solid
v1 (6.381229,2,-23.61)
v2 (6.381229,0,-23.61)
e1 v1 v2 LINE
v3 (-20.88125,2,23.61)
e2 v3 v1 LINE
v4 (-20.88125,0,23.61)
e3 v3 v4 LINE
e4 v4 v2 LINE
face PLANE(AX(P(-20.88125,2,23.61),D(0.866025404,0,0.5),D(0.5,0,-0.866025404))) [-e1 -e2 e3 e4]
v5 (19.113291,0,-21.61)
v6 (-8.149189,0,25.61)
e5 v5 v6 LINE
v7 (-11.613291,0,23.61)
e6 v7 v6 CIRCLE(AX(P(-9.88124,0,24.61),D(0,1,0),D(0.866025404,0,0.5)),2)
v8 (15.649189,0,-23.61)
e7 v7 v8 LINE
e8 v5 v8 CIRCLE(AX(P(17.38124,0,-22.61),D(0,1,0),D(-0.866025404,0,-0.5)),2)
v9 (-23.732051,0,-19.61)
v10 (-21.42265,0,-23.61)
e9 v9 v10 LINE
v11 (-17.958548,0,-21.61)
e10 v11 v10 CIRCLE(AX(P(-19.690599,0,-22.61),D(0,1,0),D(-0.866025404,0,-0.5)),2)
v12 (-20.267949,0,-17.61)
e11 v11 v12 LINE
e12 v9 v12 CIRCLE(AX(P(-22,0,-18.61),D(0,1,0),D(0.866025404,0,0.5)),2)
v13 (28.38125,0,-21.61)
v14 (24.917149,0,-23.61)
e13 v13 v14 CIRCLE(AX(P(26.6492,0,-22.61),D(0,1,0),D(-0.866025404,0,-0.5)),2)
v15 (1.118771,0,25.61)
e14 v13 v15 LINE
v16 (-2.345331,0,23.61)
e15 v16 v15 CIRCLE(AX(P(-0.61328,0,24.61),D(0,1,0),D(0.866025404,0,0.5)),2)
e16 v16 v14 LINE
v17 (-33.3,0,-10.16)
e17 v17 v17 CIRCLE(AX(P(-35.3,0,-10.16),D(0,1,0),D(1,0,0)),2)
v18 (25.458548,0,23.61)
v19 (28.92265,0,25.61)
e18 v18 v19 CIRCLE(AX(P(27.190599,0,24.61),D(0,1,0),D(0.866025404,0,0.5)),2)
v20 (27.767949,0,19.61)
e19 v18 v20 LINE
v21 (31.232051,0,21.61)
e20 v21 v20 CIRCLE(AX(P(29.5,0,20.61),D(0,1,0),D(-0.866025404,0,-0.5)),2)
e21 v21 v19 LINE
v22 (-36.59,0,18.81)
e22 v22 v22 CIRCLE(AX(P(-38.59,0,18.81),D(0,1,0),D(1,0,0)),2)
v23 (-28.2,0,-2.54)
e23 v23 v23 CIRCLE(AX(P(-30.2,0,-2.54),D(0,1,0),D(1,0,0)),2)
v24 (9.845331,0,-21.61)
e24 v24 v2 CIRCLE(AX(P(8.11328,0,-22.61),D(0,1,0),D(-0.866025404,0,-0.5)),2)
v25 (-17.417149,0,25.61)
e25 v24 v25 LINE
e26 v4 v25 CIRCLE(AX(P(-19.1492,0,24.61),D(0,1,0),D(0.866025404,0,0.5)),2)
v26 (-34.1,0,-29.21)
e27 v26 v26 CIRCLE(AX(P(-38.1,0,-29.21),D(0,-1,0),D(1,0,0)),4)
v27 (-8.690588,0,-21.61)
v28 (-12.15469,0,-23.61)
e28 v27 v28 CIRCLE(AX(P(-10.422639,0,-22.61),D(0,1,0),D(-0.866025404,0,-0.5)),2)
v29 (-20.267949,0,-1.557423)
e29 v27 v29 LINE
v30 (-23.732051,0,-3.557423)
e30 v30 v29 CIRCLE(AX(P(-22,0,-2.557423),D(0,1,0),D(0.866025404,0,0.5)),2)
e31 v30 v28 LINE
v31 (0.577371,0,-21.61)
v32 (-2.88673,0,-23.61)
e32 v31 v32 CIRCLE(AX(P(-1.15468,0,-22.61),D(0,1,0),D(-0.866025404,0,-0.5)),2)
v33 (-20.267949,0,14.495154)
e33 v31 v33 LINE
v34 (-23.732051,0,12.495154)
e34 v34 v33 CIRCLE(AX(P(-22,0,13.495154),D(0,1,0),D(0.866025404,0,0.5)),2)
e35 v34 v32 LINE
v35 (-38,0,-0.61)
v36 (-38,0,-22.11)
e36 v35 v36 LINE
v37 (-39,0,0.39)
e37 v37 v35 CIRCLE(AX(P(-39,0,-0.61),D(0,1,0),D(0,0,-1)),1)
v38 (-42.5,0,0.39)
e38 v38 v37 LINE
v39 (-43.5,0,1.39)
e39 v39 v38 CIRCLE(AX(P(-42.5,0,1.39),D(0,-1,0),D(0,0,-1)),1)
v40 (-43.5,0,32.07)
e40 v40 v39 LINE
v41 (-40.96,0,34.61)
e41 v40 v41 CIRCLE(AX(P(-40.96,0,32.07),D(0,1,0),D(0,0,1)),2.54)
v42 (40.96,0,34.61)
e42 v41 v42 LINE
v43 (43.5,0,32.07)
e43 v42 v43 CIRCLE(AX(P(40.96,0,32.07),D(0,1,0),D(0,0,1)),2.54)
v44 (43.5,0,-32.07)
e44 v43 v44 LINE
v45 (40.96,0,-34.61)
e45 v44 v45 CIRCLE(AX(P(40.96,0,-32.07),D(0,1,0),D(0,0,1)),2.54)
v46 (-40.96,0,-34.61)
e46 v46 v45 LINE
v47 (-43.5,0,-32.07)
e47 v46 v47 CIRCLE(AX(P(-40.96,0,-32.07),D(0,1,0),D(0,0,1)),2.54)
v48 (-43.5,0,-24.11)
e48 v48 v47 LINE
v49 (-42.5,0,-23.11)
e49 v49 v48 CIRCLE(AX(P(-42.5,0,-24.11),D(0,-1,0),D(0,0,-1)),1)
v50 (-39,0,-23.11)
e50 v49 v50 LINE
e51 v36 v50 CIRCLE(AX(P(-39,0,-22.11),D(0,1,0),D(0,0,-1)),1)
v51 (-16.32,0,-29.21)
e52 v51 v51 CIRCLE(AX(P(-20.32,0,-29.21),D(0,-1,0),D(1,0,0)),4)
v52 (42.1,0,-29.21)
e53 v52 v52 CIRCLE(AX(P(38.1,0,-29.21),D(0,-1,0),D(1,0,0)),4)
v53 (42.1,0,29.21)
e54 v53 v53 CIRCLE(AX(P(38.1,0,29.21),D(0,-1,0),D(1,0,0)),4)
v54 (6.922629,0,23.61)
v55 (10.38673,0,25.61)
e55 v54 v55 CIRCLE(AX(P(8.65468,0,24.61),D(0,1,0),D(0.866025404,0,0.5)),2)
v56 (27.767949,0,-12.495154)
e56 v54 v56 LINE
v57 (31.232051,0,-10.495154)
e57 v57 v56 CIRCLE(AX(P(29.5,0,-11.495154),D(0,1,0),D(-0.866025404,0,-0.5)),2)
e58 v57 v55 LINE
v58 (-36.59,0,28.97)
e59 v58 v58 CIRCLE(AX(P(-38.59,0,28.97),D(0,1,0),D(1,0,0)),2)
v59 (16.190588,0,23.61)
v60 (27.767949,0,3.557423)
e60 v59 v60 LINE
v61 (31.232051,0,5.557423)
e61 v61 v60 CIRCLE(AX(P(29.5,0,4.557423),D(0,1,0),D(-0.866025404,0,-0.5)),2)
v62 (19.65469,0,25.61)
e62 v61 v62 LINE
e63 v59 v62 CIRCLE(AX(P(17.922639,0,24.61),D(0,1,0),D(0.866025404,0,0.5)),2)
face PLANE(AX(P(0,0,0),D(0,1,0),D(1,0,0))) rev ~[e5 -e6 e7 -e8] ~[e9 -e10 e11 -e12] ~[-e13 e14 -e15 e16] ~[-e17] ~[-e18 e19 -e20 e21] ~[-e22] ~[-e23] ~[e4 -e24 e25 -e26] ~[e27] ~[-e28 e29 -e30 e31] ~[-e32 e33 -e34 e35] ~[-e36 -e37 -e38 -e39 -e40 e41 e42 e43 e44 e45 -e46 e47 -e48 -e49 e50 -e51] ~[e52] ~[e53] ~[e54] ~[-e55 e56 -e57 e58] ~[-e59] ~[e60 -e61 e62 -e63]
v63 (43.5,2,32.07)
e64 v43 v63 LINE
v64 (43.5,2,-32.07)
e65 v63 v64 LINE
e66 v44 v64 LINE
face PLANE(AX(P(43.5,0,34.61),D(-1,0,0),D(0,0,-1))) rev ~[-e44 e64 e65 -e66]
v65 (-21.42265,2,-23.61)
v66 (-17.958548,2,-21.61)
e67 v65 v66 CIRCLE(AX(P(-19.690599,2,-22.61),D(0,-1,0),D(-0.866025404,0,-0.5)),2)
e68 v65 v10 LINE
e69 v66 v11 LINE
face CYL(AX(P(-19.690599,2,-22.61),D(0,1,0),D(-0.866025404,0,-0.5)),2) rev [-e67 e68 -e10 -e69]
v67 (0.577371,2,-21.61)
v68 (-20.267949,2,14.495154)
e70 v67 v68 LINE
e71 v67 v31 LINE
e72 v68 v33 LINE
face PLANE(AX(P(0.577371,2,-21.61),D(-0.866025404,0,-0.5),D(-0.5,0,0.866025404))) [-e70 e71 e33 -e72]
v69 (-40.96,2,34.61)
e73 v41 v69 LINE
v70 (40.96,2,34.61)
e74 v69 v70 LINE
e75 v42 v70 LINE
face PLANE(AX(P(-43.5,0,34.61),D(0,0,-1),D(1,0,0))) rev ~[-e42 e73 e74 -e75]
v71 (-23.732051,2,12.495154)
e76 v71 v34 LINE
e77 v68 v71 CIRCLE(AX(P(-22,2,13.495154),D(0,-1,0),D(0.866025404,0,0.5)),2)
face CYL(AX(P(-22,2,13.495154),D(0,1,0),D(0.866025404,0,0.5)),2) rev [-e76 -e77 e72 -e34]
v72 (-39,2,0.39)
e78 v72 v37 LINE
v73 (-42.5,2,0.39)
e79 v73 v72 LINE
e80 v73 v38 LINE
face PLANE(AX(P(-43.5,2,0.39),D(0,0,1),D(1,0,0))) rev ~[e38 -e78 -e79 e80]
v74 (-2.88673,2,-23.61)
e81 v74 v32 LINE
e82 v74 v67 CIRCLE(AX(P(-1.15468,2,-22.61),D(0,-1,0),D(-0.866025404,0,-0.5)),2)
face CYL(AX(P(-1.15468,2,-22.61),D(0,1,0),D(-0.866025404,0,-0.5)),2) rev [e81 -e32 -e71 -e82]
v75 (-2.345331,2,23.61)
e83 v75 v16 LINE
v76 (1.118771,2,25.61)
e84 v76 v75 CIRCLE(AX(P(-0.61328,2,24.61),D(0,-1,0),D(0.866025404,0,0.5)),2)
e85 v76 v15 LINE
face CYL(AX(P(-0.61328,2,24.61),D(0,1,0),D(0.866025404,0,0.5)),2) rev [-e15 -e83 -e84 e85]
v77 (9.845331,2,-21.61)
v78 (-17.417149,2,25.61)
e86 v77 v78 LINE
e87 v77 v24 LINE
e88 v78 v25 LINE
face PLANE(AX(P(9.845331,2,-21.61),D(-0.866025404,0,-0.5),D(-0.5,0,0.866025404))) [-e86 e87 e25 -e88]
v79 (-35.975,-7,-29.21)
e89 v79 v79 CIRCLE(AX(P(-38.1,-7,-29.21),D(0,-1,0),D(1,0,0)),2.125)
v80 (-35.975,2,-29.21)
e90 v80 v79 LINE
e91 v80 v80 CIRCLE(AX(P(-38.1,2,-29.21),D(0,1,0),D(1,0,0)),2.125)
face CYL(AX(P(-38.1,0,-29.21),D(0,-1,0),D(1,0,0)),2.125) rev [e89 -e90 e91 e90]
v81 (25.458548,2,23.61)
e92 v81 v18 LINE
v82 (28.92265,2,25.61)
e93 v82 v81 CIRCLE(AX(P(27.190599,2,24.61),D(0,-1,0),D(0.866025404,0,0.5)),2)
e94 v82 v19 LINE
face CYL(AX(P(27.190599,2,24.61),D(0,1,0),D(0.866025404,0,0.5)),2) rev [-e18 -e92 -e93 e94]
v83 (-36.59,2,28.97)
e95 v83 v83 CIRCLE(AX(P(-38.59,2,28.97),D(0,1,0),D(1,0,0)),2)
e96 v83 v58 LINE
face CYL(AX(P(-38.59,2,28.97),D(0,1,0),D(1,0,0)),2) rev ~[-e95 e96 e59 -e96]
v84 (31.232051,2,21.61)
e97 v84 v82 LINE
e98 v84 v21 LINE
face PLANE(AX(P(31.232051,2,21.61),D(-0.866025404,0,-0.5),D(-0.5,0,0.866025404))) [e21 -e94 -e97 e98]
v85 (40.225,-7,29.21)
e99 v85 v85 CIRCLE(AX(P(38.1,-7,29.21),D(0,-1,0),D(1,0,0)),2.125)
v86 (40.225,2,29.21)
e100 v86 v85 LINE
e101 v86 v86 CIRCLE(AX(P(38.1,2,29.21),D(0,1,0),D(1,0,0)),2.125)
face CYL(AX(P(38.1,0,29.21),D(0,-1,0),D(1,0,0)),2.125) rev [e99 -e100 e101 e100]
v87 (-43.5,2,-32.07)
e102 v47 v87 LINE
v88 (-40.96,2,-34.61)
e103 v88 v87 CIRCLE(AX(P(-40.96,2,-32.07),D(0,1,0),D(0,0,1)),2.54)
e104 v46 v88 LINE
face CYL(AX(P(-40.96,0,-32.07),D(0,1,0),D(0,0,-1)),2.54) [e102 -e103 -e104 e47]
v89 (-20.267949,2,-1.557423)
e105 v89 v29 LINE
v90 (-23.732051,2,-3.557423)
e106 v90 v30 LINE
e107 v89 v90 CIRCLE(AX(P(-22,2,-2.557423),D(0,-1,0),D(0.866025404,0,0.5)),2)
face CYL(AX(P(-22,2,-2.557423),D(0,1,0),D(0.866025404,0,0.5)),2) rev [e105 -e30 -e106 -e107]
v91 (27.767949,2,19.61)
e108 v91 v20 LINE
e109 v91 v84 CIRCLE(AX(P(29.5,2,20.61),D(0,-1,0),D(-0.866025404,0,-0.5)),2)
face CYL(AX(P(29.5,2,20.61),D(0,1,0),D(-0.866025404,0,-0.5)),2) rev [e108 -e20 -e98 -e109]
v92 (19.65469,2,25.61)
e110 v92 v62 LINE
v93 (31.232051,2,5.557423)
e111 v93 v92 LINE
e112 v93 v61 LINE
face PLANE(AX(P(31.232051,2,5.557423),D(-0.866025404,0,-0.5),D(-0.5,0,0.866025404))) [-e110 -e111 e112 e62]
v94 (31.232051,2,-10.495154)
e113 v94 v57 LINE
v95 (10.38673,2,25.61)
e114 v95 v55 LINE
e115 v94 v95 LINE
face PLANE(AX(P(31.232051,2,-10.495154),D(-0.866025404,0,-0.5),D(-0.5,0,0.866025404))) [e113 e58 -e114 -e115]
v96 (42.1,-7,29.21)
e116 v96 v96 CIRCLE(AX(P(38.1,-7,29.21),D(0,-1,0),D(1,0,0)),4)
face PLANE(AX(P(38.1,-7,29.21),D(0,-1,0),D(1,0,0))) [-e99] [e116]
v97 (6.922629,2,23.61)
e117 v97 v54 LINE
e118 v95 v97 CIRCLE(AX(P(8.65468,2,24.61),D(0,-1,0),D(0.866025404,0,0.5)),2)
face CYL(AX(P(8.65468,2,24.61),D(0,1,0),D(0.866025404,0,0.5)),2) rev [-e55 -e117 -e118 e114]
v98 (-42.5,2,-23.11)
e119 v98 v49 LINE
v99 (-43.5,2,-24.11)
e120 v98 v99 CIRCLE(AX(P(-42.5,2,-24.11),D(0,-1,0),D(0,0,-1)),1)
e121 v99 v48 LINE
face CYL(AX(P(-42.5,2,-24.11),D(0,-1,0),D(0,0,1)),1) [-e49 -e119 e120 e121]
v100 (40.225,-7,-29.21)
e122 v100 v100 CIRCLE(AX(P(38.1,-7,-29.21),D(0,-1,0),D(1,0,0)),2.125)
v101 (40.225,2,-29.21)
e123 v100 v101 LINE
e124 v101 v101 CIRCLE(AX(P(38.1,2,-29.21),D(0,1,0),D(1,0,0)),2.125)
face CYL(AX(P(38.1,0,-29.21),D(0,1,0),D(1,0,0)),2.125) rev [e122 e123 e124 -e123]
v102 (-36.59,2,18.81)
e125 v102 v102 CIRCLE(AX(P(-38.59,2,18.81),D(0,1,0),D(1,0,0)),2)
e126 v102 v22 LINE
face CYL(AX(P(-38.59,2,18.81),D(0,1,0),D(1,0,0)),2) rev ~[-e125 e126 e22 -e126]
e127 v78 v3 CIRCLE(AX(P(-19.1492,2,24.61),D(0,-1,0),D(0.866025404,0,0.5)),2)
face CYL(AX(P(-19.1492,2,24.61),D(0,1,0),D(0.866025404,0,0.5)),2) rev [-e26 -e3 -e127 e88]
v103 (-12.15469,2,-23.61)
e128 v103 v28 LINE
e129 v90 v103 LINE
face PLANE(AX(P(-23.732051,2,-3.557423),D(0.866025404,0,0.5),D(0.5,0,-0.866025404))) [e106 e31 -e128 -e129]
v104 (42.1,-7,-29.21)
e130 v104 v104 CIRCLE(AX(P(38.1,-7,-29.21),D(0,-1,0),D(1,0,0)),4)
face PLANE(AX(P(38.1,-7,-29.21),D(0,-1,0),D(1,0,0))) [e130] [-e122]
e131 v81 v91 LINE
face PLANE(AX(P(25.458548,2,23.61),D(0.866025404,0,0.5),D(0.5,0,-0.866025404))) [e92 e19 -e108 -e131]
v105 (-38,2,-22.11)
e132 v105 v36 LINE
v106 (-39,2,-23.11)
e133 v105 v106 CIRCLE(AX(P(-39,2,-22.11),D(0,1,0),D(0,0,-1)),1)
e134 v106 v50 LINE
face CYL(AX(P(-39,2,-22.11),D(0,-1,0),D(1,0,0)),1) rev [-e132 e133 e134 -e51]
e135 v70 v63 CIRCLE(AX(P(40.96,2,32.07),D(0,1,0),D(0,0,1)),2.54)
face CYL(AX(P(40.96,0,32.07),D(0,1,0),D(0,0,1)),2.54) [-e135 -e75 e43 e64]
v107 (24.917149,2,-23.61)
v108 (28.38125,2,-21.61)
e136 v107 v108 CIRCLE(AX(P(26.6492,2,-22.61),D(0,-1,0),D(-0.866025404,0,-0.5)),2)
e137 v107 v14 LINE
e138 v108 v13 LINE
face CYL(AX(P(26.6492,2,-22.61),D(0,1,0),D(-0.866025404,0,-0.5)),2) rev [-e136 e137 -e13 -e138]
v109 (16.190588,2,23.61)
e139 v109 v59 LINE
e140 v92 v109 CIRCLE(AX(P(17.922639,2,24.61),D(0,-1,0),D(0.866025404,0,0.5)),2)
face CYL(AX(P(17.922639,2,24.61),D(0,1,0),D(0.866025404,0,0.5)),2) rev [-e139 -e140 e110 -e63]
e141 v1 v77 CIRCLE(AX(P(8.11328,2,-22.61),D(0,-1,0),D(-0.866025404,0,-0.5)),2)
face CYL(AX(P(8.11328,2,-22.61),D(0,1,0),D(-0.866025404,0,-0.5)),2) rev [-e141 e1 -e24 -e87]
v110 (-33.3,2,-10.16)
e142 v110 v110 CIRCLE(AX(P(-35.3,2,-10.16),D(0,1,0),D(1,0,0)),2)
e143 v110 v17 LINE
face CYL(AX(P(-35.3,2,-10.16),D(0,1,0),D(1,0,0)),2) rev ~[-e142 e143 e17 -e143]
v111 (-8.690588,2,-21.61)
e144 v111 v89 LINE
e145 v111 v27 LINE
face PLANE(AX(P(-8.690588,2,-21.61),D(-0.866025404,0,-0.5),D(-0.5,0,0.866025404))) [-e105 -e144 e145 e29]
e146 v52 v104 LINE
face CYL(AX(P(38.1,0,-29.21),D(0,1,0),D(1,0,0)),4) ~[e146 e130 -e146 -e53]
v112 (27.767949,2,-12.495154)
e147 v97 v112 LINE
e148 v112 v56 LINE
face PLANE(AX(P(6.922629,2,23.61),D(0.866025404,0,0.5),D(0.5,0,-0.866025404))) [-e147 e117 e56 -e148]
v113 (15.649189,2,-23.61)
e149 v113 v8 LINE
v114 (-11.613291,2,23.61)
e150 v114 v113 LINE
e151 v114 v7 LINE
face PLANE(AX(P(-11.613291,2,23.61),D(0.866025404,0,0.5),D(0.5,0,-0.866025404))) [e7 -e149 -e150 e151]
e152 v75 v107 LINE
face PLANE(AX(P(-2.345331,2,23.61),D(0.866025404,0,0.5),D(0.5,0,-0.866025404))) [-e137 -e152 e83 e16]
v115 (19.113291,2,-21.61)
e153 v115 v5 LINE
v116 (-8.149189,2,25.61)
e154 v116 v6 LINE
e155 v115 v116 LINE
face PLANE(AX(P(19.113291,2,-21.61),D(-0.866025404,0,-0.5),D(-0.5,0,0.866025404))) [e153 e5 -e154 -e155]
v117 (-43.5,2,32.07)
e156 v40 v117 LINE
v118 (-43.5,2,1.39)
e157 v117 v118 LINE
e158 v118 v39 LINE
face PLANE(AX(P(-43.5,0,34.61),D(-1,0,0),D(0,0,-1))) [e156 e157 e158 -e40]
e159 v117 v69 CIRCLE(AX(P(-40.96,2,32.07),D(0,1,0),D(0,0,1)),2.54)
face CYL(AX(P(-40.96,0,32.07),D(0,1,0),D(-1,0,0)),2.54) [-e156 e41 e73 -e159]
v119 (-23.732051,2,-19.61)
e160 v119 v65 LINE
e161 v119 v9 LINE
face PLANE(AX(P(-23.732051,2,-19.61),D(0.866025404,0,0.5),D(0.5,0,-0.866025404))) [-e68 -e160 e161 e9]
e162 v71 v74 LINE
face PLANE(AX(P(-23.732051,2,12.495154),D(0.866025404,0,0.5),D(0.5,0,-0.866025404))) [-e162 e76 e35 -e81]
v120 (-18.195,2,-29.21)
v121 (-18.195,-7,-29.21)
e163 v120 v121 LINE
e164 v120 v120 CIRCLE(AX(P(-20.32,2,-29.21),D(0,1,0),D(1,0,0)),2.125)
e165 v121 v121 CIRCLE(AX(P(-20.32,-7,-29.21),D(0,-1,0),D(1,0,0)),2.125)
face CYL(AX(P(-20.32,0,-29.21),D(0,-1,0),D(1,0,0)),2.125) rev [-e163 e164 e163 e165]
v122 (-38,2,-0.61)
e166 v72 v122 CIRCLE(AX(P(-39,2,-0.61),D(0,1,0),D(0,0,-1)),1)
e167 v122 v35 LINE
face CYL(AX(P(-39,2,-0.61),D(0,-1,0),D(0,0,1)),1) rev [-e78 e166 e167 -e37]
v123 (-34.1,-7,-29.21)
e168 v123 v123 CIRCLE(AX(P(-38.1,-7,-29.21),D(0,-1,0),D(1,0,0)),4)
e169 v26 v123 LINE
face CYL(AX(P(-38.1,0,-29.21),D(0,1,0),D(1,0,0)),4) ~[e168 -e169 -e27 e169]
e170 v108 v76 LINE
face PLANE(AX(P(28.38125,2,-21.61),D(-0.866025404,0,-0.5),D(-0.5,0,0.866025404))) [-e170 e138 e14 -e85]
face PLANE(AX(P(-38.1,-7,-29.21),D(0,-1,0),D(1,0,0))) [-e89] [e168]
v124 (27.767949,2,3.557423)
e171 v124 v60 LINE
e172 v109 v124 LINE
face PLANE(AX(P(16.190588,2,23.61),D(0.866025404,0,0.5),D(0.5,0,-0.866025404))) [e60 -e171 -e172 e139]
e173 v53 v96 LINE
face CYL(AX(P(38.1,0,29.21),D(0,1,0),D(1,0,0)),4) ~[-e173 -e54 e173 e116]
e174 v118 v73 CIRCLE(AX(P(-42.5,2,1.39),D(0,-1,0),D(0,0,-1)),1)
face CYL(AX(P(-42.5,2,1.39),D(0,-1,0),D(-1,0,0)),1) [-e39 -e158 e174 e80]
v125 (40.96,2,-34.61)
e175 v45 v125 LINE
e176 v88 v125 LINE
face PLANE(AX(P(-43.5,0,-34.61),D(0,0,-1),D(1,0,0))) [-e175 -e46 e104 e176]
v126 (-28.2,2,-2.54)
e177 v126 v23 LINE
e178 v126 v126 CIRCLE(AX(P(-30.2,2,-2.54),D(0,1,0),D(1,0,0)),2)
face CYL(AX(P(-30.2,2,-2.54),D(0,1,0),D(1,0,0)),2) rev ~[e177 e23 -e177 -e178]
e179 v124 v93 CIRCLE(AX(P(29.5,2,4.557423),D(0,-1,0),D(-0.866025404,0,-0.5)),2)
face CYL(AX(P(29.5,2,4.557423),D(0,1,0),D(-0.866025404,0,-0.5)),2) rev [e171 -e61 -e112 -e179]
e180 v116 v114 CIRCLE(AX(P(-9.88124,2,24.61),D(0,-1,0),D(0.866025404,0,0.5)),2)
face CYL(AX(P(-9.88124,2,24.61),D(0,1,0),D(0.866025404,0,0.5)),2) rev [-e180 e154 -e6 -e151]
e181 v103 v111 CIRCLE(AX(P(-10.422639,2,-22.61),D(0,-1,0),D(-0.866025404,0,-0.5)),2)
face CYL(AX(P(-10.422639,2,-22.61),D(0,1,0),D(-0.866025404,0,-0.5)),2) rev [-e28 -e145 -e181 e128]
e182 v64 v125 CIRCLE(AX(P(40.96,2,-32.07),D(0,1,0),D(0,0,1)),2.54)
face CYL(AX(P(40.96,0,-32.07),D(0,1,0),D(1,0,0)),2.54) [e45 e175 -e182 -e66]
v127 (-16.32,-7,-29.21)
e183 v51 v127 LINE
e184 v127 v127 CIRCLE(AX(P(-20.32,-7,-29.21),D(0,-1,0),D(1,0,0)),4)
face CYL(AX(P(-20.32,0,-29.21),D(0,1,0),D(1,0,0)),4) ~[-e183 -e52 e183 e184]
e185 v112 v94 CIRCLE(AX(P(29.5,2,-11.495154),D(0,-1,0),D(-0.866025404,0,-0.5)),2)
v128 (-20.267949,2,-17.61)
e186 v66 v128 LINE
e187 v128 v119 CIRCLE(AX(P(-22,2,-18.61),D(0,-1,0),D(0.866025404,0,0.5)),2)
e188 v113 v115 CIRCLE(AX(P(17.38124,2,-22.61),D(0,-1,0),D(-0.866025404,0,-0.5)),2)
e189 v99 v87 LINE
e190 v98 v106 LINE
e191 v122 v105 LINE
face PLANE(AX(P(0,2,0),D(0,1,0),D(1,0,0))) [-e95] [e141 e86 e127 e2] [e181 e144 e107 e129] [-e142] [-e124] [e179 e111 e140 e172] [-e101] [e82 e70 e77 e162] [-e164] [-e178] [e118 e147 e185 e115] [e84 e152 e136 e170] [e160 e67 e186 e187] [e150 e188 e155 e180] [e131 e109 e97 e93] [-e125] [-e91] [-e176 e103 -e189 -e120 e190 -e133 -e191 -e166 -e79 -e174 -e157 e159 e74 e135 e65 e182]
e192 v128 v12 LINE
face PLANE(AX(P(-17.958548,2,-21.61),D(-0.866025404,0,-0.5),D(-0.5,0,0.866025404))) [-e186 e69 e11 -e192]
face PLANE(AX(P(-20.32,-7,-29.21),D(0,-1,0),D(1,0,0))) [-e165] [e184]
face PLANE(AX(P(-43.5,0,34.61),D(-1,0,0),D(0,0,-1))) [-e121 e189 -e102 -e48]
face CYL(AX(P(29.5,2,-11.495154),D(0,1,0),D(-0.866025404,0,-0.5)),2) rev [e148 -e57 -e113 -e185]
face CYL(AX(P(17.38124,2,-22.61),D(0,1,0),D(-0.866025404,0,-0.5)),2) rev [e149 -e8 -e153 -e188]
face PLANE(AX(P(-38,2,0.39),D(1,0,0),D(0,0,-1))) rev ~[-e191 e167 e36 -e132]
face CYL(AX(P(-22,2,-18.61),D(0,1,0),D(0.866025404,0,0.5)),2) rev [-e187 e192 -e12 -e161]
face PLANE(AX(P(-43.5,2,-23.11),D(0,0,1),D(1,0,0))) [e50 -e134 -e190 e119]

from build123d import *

# Parameters (mm, degrees)
SKETCH1_W           = 87
SKETCH1_H           = 69.22
SKETCH1_R           = 2.125
BOSS_EXTRUDE1_DEPTH = 2
SKETCH2_R           = 4
SKETCH2_R_2         = 2.125
BOSS_EXTRUDE2_DEPTH = 7
SKETCH3_W           = 5.5
SKETCH3_H           = 23.5
CUT_EXTRUDE1_DEPTH  = 7
SKETCH4_R           = 2
CUT_EXTRUDE2_DEPTH  = 7
CUT_EXTRUDE3_DEPTH  = 5
SKETCH6_R           = 2
CUT_EXTRUDE4_DEPTH  = 10
FILLET1_R           = 1
FILLET2_R           = 2.54


with BuildPart() as part:
    # Sketch1 → Boss-Extrude1 (new body)
    with BuildSketch(Plane(origin=(0, 0, 0), x_dir=(1, 0, 0), z_dir=(0, 1, 0))):
        Rectangle(SKETCH1_W, SKETCH1_H)
        with Locations((-38.1, 29.21)):
            Circle(SKETCH1_R, mode=Mode.SUBTRACT)
        with Locations((38.1, 29.21)):
            Circle(SKETCH1_R, mode=Mode.SUBTRACT)
        with Locations((-20.32, 29.21)):
            Circle(SKETCH1_R, mode=Mode.SUBTRACT)
        with Locations((38.1, -29.21)):
            Circle(SKETCH1_R, mode=Mode.SUBTRACT)
    extrude(amount=BOSS_EXTRUDE1_DEPTH)

    # Sketch2 → Boss-Extrude2 (add)
    with BuildSketch(Plane.XZ):
        with Locations((38.1, -29.21)):
            Circle(SKETCH2_R)
        with Locations((38.1, -29.21)):
            Circle(SKETCH2_R_2, mode=Mode.SUBTRACT)
        with Locations((-20.32, -29.21)):
            Circle(SKETCH2_R)
        with Locations((-20.32, -29.21)):
            Circle(SKETCH2_R_2, mode=Mode.SUBTRACT)
        with Locations((-38.1, -29.21)):
            Circle(SKETCH2_R)
        with Locations((-38.1, -29.21)):
            Circle(SKETCH2_R_2, mode=Mode.SUBTRACT)
        with Locations((38.1, 29.21)):
            Circle(SKETCH2_R)
        with Locations((38.1, 29.21)):
            Circle(SKETCH2_R_2, mode=Mode.SUBTRACT)
    extrude(amount=BOSS_EXTRUDE2_DEPTH)

    # Sketch3 → Cut-Extrude1 (cut)
    with BuildSketch(Plane(origin=(0, 2, 0), x_dir=(1, 0, 0), z_dir=(0, 1, 0))):
        with Locations((-40.75, 11.36)):
            Rectangle(SKETCH3_W, SKETCH3_H)
    extrude(amount=-CUT_EXTRUDE1_DEPTH, mode=Mode.SUBTRACT)

    # Sketch4 → Cut-Extrude2 (cut)
    with BuildSketch(Plane(origin=(0, 2, 0), x_dir=(1, 0, 0), z_dir=(0, 1, 0))):
        with Locations((-38.59, -28.97)):
            Circle(SKETCH4_R)
        with Locations((-38.59, -18.81)):
            Circle(SKETCH4_R)
        with Locations((-35.3, 10.16)):
            Circle(SKETCH4_R)
    extrude(amount=-CUT_EXTRUDE2_DEPTH, mode=Mode.SUBTRACT)

    # Sketch5 → Cut-Extrude3 (cut)
    with BuildSketch(Plane(origin=(0, 2, 0), x_dir=(1, 0, 0), z_dir=(0, 1, 0))):
        with BuildLine():
            Line((-23.732050808, 19.61), (-21.422649731, 23.61))
            ThreePointArc((-21.422649731, 23.61), (-18.690598923, 24.342050808), (-17.958548116, 21.61))
            Line((-17.958548116, 21.61), (-20.267949192, 17.61))
            ThreePointArc((-20.267949192, 17.61), (-23, 16.877949192), (-23.732050808, 19.61))
        make_face()
        with BuildLine():
            Line((-23.732050808, 3.557422926), (-12.154690036, 23.61))
            ThreePointArc((-12.154690036, 23.61), (-9.422639229, 24.342050808), (-8.690588421, 21.61))
            Line((-8.690588421, 21.61), (-20.267949192, 1.557422926))
            ThreePointArc((-20.267949192, 1.557422926), (-23, 0.825372119), (-23.732050808, 3.557422926))
        make_face()
        with BuildLine():
            Line((-23.732050808, -12.495154147), (-2.886730341, 23.61))
            ThreePointArc((-2.886730341, 23.61), (-0.154679534, 24.342050808), (0.577371274, 21.61))
            Line((0.577371274, 21.61), (-20.267949192, -14.495154147))
            ThreePointArc((-20.267949192, -14.495154147), (-23, -15.227204955), (-23.732050808, -12.495154147))
        make_face()
        with BuildLine():
            Line((9.845330968, 21.61), (-17.417148743, -25.61))
            ThreePointArc((-17.417148743, -25.61), (-20.14919955, -26.342050808), (-20.881250358, -23.61))
            Line((-20.881250358, -23.61), (6.381229353, 23.61))
            ThreePointArc((6.381229353, 23.61), (9.113280161, 24.342050808), (9.845330968, 21.61))
        make_face()
        with BuildLine():
            Line((-11.613290663, -23.61), (15.649189048, 23.61))
            ThreePointArc((15.649189048, 23.61), (18.381239856, 24.342050808), (19.113290663, 21.61))
            Line((19.113290663, 21.61), (-8.149189048, -25.61))
            ThreePointArc((-8.149189048, -25.61), (-10.881239856, -26.342050808), (-11.613290663, -23.61))
        make_face()
        with BuildLine():
            Line((28.381250358, 21.61), (1.118770647, -25.61))
            ThreePointArc((1.118770647, -25.61), (-1.613280161, -26.342050808), (-2.345330968, -23.61))
            Line((-2.345330968, -23.61), (24.917148743, 23.61))
            ThreePointArc((24.917148743, 23.61), (27.64919955, 24.342050808), (28.381250358, 21.61))
        make_face()
        with BuildLine():
            Line((6.922628726, -23.61), (27.767949192, 12.495154147))
            ThreePointArc((27.767949192, 12.495154147), (30.5, 13.227204955), (31.232050808, 10.495154147))
            Line((31.232050808, 10.495154147), (10.386730341, -25.61))
            ThreePointArc((10.386730341, -25.61), (7.654679534, -26.342050808), (6.922628726, -23.61))
        make_face()
        with BuildLine():
            Line((31.232050808, -5.557422926), (19.654690036, -25.61))
            ThreePointArc((19.654690036, -25.61), (16.922639229, -26.342050808), (16.190588421, -23.61))
            Line((16.190588421, -23.61), (27.767949192, -3.557422926))
            ThreePointArc((27.767949192, -3.557422926), (30.5, -2.825372119), (31.232050808, -5.557422926))
        make_face()
        with BuildLine():
            Line((25.458548116, -23.61), (27.767949192, -19.61))
            ThreePointArc((27.767949192, -19.61), (30.5, -18.877949192), (31.232050808, -21.61))
            Line((31.232050808, -21.61), (28.922649731, -25.61))
            ThreePointArc((28.922649731, -25.61), (26.190598923, -26.342050808), (25.458548116, -23.61))
        make_face()
    extrude(amount=-CUT_EXTRUDE3_DEPTH, mode=Mode.SUBTRACT)

    # Sketch6 → Cut-Extrude4 (cut)
    with BuildSketch(Plane(origin=(0, 2, 0), x_dir=(1, 0, 0), z_dir=(0, 1, 0))):
        with Locations((-30.2, 2.54)):
            Circle(SKETCH6_R)
    extrude(amount=-CUT_EXTRUDE4_DEPTH, mode=Mode.SUBTRACT)

    # Fillet1
    fillet1_edges = [part.edges().sort_by_distance(p)[0] for p in [
        (-38, 1, -23.11),
        (-38, 1, 0.39),
        (-43.5, 1, 0.39),
        (-43.5, 1, -23.11),
    ]]
    fillet(fillet1_edges, radius=FILLET1_R)

    # Fillet2
    fillet2_edges = [part.edges().sort_by_distance(p)[0] for p in [
        (-43.5, 1, 34.61),
        (-43.5, 1, -34.61),
        (43.5, 1, -34.61),
        (43.5, 1, 34.61),
    ]]
    fillet(fillet2_edges, radius=FILLET2_R)


solid = part.part
